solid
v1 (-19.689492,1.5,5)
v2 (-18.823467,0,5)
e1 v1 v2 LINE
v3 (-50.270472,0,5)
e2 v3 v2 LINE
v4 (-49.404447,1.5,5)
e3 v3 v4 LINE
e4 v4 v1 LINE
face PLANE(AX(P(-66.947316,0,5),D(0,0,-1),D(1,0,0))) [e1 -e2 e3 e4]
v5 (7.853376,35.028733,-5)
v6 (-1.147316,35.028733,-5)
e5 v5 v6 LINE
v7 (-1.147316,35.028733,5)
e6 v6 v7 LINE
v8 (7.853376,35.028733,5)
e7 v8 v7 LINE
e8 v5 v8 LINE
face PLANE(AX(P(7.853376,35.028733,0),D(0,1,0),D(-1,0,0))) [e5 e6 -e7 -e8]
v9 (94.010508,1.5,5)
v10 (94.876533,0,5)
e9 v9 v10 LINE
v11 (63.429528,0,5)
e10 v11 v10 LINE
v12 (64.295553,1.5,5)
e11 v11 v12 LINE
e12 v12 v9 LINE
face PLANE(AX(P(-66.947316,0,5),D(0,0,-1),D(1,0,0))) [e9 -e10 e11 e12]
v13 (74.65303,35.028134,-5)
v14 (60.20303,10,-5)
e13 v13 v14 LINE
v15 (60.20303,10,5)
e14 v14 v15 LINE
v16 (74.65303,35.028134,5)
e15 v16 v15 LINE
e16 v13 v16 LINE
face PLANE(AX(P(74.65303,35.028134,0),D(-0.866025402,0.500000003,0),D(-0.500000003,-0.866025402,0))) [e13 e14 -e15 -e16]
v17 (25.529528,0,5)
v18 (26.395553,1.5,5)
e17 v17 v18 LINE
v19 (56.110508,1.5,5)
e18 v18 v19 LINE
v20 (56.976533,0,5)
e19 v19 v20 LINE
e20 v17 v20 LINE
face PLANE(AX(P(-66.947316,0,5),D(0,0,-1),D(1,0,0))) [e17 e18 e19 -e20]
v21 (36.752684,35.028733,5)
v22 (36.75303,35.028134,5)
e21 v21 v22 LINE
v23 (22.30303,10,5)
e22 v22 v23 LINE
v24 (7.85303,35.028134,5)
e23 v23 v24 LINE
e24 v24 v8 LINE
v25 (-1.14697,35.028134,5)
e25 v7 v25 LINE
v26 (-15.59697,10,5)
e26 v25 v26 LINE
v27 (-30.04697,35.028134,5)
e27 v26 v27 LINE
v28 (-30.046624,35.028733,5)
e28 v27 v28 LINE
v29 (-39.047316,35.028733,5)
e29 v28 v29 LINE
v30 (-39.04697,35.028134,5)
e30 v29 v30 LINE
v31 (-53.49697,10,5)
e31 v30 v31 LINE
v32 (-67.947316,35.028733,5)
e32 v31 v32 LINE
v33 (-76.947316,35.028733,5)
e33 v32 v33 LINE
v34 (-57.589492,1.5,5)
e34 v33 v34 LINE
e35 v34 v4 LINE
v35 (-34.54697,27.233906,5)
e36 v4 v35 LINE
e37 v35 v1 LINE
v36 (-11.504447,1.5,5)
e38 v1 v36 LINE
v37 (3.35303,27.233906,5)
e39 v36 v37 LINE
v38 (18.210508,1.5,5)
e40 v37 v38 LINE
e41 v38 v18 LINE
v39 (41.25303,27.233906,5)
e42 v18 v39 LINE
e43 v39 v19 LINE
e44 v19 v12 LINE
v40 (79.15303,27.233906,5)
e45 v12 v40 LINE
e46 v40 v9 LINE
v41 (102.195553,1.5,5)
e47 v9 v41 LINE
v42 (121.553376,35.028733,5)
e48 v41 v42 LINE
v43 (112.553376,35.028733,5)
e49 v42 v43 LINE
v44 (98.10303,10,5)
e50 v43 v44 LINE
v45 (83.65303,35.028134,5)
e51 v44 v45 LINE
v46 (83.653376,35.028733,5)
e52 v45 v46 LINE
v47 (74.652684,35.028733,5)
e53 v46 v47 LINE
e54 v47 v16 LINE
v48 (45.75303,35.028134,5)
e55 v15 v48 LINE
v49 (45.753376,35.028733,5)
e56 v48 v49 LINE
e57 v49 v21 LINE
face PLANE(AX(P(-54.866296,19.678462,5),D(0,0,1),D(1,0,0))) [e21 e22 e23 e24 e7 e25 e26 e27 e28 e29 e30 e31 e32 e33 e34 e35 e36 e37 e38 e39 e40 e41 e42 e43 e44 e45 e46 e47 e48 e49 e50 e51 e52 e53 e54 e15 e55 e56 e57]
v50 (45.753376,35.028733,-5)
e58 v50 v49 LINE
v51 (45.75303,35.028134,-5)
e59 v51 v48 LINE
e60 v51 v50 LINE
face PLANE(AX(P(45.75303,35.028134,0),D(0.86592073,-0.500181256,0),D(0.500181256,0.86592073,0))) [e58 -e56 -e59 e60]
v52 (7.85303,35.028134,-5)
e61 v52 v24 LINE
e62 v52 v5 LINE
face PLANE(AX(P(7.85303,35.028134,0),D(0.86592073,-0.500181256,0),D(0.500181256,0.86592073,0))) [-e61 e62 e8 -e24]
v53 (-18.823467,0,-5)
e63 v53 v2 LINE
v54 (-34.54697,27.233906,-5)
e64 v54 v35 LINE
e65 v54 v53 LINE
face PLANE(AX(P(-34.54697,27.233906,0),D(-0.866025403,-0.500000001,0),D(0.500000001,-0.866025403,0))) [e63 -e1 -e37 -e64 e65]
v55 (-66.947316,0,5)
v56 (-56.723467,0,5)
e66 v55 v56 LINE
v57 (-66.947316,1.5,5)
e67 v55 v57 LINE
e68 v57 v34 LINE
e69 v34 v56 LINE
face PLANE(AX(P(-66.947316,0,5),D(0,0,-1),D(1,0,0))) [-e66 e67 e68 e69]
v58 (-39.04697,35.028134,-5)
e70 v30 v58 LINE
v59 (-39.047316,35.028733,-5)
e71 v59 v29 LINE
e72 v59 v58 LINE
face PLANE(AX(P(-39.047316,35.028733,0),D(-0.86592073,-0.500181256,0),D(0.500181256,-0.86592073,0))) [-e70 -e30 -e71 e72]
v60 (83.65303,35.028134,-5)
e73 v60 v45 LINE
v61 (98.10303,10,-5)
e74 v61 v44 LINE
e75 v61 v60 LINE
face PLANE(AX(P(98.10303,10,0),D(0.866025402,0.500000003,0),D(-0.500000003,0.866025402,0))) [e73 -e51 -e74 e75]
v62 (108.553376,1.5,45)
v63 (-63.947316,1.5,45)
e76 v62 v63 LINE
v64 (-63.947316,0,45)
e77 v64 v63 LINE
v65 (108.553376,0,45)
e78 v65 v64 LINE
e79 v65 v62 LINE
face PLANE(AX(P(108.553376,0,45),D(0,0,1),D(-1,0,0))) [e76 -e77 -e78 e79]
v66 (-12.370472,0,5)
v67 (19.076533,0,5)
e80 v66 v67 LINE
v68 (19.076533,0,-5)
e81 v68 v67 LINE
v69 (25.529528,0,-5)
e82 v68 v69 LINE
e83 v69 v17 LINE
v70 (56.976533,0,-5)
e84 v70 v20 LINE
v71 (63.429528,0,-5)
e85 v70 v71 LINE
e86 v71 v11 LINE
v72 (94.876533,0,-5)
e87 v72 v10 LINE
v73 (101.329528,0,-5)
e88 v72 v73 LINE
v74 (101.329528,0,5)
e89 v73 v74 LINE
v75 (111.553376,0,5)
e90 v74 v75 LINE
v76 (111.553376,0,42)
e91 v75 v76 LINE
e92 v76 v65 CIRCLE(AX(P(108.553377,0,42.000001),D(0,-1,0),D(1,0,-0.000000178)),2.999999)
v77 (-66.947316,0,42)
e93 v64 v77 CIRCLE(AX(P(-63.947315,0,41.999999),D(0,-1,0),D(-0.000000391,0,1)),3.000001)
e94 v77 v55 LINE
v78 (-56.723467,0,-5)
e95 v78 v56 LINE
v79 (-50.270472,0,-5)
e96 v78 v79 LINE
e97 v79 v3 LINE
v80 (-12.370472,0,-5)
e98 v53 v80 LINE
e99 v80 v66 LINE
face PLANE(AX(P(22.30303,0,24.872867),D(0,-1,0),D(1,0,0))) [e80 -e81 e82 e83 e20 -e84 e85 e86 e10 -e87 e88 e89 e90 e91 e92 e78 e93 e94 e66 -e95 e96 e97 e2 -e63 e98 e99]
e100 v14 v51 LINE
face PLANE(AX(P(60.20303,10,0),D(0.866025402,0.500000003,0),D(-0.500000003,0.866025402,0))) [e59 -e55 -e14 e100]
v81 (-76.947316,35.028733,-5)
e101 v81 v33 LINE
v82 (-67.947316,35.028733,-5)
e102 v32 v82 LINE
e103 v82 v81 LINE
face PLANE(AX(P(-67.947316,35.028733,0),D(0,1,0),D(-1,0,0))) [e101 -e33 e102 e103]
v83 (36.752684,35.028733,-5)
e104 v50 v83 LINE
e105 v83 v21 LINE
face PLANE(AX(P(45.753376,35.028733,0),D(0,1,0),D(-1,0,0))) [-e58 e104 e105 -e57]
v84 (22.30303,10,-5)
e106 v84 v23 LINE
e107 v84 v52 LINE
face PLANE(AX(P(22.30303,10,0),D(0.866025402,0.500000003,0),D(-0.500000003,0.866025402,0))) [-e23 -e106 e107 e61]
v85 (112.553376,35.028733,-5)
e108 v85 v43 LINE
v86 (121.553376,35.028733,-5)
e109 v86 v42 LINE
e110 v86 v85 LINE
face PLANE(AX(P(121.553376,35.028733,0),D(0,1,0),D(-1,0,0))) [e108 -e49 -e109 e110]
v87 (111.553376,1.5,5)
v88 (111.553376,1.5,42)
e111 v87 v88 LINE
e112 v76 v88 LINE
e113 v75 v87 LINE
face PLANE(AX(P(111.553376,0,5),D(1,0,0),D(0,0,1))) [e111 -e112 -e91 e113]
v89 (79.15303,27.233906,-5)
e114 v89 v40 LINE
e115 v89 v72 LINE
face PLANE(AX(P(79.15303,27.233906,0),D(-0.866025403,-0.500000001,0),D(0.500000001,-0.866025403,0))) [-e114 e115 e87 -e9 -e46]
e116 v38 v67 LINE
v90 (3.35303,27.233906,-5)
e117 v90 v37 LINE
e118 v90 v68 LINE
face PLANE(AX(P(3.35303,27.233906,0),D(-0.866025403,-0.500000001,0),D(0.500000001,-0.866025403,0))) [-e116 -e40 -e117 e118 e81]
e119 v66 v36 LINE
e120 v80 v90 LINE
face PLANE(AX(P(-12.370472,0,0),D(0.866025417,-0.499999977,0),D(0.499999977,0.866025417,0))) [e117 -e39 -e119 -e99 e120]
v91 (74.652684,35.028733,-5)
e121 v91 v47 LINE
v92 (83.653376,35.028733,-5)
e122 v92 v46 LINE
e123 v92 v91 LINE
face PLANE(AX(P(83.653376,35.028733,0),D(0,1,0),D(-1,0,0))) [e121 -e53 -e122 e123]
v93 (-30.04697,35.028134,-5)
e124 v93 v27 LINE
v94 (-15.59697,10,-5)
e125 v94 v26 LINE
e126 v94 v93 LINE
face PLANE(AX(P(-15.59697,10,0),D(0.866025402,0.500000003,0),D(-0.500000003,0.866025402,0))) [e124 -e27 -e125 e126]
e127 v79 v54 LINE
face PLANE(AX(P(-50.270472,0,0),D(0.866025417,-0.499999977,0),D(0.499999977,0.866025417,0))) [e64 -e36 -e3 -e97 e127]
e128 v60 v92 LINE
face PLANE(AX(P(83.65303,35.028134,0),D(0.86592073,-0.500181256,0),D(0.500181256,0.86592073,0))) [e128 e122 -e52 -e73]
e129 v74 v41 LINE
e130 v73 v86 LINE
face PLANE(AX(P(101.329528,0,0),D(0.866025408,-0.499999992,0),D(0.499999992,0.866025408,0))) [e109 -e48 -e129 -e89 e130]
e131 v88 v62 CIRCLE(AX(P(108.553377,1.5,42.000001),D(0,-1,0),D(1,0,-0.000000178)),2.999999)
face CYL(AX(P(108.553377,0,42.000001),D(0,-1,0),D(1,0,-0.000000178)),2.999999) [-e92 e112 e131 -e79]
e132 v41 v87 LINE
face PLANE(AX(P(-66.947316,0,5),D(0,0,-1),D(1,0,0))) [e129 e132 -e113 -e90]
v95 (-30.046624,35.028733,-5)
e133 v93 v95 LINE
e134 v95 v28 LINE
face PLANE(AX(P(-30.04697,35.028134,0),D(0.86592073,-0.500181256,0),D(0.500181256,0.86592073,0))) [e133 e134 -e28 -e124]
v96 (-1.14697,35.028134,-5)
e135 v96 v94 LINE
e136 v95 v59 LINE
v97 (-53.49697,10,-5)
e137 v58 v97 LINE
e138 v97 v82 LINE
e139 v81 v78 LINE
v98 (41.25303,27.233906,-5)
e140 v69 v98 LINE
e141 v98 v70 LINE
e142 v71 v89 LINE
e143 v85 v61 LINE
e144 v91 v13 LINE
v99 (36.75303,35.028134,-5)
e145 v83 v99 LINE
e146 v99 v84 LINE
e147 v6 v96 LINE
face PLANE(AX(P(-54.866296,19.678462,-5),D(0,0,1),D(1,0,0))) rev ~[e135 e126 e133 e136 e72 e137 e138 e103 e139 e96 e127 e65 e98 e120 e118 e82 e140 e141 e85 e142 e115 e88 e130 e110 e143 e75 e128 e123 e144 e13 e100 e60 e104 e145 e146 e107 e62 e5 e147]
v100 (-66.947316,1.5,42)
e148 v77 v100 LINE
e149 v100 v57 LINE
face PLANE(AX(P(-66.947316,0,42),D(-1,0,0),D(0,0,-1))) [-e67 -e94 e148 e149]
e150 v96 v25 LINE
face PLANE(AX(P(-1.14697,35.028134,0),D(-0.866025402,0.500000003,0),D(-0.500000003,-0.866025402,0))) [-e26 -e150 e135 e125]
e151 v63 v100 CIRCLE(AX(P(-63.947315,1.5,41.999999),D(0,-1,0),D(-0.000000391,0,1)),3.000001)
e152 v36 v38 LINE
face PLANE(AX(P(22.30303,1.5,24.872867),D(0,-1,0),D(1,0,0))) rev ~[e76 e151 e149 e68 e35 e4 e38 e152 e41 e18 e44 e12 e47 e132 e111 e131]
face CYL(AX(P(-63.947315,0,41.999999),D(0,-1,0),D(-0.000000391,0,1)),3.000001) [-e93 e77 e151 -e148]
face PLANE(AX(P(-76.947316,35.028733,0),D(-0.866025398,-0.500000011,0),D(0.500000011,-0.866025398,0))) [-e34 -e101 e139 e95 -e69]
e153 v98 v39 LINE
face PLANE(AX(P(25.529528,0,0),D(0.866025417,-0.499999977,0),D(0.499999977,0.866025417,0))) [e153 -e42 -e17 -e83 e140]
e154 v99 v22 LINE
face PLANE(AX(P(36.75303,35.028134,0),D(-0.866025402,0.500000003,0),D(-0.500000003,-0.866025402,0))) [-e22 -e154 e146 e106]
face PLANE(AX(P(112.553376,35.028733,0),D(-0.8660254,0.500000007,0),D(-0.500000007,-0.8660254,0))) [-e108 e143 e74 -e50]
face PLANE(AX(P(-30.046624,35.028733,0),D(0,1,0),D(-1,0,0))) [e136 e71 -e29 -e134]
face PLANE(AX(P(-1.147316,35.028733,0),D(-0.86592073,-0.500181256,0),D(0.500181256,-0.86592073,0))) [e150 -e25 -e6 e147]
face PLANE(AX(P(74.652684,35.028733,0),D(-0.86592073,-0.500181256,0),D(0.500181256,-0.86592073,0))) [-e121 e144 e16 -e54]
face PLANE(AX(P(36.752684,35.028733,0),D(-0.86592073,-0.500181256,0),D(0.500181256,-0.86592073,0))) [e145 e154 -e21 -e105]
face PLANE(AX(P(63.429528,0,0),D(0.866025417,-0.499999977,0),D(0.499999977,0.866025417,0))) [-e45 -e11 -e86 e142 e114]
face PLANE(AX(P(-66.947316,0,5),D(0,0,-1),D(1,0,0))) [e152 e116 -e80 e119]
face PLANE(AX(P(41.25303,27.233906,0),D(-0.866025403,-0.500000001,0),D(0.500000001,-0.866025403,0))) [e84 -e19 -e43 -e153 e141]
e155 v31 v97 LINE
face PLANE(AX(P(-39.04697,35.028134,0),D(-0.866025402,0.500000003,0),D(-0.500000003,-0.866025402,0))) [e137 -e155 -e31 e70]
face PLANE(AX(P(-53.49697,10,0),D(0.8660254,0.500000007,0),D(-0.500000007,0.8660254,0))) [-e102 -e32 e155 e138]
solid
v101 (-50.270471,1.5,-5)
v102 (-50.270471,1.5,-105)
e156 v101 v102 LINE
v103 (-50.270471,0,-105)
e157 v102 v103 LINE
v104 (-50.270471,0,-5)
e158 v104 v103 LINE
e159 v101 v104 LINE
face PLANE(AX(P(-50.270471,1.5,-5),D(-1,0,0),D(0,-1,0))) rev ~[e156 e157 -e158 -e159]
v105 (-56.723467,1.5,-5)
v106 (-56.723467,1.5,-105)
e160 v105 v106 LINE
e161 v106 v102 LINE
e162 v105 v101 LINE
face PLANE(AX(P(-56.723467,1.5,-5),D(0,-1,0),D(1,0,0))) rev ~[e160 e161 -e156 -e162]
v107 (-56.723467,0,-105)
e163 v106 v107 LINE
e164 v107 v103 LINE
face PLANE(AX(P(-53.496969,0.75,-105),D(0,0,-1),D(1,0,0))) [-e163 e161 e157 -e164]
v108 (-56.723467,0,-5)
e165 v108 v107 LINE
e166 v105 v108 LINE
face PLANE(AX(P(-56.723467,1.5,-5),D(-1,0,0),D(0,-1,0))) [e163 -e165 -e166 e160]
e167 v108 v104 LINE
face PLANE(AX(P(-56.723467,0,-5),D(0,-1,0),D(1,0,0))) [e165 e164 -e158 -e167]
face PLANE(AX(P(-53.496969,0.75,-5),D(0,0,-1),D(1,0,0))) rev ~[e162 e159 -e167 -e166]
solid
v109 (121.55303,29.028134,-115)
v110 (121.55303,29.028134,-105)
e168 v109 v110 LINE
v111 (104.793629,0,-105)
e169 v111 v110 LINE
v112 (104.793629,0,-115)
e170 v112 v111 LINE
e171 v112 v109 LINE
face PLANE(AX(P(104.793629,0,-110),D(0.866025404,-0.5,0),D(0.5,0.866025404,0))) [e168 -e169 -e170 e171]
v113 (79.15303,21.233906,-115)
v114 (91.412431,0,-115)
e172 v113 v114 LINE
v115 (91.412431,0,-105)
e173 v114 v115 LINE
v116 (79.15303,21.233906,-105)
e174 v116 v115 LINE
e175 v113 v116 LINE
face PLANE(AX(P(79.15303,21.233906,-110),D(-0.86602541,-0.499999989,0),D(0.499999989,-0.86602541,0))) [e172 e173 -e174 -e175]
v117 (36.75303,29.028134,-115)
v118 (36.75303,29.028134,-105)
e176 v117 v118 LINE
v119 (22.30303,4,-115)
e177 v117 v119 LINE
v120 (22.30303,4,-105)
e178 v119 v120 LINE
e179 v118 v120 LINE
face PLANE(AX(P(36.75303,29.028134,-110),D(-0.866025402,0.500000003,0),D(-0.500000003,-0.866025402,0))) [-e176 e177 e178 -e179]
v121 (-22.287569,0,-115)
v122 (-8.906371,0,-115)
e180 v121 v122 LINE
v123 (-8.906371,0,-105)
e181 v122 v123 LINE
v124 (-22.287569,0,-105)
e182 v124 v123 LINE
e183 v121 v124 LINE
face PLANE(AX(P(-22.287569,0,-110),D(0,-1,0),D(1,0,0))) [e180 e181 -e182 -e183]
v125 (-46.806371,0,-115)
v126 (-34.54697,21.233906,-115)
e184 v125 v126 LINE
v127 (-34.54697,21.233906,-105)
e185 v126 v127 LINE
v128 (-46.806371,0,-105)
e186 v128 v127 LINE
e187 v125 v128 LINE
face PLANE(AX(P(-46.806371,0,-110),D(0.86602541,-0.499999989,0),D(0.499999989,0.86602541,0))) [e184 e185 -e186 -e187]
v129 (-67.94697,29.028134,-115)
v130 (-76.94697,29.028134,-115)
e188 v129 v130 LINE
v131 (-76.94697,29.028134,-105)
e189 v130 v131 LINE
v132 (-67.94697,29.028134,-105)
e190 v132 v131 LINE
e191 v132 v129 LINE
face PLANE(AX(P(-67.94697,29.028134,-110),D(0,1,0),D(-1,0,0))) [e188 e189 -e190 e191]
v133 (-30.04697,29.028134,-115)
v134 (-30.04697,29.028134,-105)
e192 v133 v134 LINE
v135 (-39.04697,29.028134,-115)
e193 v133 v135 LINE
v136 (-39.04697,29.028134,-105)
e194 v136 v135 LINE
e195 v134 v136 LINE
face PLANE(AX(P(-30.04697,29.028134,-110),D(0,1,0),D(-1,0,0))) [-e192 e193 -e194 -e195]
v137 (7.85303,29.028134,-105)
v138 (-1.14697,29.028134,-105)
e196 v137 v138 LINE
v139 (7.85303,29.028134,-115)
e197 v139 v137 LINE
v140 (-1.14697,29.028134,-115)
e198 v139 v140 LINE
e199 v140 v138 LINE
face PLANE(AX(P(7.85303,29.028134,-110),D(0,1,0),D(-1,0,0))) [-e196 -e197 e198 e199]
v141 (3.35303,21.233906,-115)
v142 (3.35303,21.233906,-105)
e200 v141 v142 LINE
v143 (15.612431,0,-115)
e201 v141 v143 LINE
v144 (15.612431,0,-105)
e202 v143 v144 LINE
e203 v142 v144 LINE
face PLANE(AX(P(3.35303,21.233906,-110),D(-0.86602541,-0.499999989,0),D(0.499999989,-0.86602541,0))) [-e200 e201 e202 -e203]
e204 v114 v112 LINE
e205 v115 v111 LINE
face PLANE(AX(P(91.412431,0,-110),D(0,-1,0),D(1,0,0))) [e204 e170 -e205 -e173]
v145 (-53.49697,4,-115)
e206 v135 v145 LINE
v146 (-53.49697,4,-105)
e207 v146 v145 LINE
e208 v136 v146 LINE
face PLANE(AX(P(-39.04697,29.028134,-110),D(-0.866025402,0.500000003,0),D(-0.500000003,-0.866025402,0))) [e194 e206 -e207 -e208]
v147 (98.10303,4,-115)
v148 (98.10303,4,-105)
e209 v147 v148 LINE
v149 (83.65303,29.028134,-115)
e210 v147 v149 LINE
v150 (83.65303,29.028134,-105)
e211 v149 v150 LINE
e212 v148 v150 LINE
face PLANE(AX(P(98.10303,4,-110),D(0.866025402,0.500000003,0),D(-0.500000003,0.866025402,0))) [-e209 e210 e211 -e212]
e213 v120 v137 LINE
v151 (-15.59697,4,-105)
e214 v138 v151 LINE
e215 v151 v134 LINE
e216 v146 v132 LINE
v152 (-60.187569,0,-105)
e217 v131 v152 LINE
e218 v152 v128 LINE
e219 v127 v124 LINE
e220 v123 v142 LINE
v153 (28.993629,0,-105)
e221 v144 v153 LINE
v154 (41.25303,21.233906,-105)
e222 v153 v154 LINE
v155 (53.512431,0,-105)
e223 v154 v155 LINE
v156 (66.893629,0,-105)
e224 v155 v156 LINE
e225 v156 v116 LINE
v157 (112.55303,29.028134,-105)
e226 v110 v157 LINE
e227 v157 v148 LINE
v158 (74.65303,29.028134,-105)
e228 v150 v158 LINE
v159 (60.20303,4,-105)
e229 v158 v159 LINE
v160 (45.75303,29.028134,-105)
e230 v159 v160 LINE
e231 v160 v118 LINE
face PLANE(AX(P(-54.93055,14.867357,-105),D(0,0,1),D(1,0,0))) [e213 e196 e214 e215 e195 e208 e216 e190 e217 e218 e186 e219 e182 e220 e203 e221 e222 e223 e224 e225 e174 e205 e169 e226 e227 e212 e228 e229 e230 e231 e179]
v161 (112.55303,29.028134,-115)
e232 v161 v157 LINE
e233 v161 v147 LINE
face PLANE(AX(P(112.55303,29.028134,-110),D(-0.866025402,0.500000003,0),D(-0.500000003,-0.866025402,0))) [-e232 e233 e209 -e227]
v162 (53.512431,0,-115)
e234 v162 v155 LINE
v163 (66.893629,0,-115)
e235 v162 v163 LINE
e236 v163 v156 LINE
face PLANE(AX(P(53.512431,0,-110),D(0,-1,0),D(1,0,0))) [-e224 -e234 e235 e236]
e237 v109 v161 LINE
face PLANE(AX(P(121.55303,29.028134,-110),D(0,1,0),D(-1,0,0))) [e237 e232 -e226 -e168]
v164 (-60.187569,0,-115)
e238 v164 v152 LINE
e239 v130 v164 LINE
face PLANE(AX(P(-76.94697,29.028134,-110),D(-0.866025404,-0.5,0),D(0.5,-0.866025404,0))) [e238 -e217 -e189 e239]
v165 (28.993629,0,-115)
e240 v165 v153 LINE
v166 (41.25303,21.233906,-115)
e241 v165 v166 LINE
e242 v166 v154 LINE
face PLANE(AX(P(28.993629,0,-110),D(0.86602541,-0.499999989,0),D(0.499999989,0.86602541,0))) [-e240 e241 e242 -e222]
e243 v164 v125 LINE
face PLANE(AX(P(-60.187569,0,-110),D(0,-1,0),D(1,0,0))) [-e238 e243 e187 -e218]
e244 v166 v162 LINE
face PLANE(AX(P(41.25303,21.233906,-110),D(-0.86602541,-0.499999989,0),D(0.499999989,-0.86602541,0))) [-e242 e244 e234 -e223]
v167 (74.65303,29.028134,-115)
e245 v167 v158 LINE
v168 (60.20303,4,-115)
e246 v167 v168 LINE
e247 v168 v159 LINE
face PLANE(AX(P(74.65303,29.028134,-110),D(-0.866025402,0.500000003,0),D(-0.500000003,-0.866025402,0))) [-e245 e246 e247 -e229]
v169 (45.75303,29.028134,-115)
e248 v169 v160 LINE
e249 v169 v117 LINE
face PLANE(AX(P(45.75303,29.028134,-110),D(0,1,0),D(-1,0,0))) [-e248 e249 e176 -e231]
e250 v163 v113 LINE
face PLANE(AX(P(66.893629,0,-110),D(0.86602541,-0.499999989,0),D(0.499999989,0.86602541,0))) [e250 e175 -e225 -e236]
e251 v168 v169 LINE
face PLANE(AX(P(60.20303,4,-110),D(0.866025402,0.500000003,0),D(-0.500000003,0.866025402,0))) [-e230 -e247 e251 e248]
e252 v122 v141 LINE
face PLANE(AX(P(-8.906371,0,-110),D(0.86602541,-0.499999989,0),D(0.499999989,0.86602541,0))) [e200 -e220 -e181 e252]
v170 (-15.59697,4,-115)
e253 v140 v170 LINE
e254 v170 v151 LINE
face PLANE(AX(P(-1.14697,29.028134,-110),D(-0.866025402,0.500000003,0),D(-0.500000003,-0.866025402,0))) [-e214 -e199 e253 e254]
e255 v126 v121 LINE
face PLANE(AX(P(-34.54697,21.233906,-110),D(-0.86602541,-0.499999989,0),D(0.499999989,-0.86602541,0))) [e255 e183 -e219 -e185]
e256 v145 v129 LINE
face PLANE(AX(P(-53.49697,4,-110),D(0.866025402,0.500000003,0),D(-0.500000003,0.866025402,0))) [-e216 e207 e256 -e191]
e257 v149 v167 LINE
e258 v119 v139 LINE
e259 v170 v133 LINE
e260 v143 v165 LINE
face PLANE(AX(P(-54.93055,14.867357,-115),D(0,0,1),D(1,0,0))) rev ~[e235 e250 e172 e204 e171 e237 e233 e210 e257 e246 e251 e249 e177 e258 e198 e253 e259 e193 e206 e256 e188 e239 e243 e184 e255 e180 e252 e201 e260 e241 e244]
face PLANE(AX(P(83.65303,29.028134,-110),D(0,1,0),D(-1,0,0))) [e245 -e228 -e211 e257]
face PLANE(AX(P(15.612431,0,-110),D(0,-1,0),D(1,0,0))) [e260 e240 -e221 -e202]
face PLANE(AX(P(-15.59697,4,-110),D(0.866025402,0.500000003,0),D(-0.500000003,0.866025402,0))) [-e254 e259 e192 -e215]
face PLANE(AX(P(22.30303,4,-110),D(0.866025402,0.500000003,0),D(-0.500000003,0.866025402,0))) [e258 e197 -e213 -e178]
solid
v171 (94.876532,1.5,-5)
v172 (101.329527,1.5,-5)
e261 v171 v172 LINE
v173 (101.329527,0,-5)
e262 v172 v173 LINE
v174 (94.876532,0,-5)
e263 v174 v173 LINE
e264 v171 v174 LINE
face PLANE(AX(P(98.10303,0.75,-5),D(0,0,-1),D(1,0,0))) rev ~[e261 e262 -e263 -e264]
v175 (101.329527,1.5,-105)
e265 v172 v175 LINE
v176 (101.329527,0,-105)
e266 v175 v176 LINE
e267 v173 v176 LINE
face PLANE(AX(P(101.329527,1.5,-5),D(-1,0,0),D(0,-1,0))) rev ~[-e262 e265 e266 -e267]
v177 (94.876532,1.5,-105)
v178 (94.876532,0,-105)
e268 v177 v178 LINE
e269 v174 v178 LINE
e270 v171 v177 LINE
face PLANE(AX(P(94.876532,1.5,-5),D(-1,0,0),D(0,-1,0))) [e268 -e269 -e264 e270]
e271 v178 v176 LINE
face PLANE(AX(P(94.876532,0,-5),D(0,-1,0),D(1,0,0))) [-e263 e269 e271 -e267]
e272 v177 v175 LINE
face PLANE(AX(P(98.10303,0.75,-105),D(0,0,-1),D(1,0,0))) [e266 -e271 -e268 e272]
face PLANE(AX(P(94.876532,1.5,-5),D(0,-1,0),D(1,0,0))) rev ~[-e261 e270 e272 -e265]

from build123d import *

# Parameters (mm, degrees)
F1_DEPTH = 5
F4_DEPTH = 5
F6_DEPTH = 1.5
F7_W     = 6.452995
F7_H     = 1.5
F8_DEPTH = 100


with BuildPart() as f1:
    # F0 (on Top) → F1 (new body, symmetric)
    with BuildSketch(Plane.XY):
        Polygon((-67.947316, 35.028733), (-76.947316, 35.028733), (-56.723467, 0), (-50.270472, 0), (-34.54697, 27.233906), (-39.04697, 35.028134), (-53.49697, 10), align=None)
        Polygon((-39.04697, 35.028134), (-34.54697, 27.233906), (-30.04697, 35.028134), (-30.047316, 35.028733), (-39.046624, 35.028733), align=None)
        Polygon((-30.04697, 35.028134), (-34.54697, 27.233906), (-18.823467, 0), (-12.370472, 0), (3.35303, 27.233906), (-1.14697, 35.028134), (-15.59697, 10), align=None)
        Polygon((-39.047316, 35.028733), (-39.04697, 35.028134), (-39.046624, 35.028733), align=None)
        Polygon((-30.047316, 35.028733), (-30.04697, 35.028134), (-30.046624, 35.028733), align=None)
        Polygon((-1.147316, 35.028733), (-1.14697, 35.028134), (-1.146624, 35.028733), align=None)
        Polygon((-1.146624, 35.028733), (-1.14697, 35.028134), (3.35303, 27.233906), (7.85303, 35.028134), (7.852684, 35.028733), align=None)
        Polygon((7.85303, 35.028134), (3.35303, 27.233906), (19.076533, 0), (25.529528, 0), (41.25303, 27.233906), (36.75303, 35.028134), (22.30303, 10), align=None)
        Polygon((7.852684, 35.028733), (7.85303, 35.028134), (7.853376, 35.028733), align=None)
        Polygon((36.752684, 35.028733), (36.75303, 35.028134), (36.753376, 35.028733), align=None)
        Polygon((36.753376, 35.028733), (36.75303, 35.028134), (41.25303, 27.233906), (45.75303, 35.028134), (45.752684, 35.028733), align=None)
        Polygon((45.75303, 35.028134), (41.25303, 27.233906), (56.976533, 0), (63.429528, 0), (79.15303, 27.233906), (74.65303, 35.028134), (60.20303, 10), align=None)
        Polygon((45.752684, 35.028733), (45.75303, 35.028134), (45.753376, 35.028733), align=None)
        Polygon((74.652684, 35.028733), (74.65303, 35.028134), (74.653376, 35.028733), align=None)
        Polygon((74.653376, 35.028733), (74.65303, 35.028134), (79.15303, 27.233906), (83.65303, 35.028134), (83.652684, 35.028733), align=None)
        Polygon((83.65303, 35.028134), (79.15303, 27.233906), (94.876533, 0), (101.329528, 0), (121.553376, 35.028733), (112.553376, 35.028733), (98.10303, 10), align=None)
        Polygon((83.652684, 35.028733), (83.65303, 35.028134), (83.653376, 35.028733), align=None)
    extrude(amount=F1_DEPTH, both=True)

    # F5 (on Front) → F6 (join)
    with BuildSketch(Plane.XZ):
        with BuildLine():
            Line((108.553376, 45), (-63.947316, 45))
            ThreePointArc((-63.947316, 45), (-66.068636, 44.12132), (-66.947316, 42))
            Line((-66.947316, 42), (-66.947316, 5))
            Line((-66.947316, 5), (111.553376, 5))
            Line((111.553376, 5), (111.553376, 42))
            ThreePointArc((111.553376, 42), (110.674697, 44.12132), (108.553376, 45))
        make_face()
    extrude(amount=-F6_DEPTH)


with BuildPart() as f4:
    # F3 (on offset) → F4 (new body, symmetric)
    with BuildSketch(Plane.XY.offset(-110)):
        Polygon((-67.94697, 29.028134), (-76.94697, 29.028134), (-60.187569, 0), (-46.806371, 0), (-34.54697, 21.233906), (-39.04697, 29.028134), (-53.49697, 4), align=None)
        Polygon((-39.04697, 29.028134), (-34.54697, 21.233906), (-30.04697, 29.028134), align=None)
        Polygon((-30.04697, 29.028134), (-34.54697, 21.233906), (-22.287569, 0), (-8.906371, 0), (3.35303, 21.233906), (-1.14697, 29.028134), (-15.59697, 4), align=None)
        Polygon((7.85303, 29.028134), (-1.14697, 29.028134), (3.35303, 21.233906), align=None)
        Polygon((7.85303, 29.028134), (3.35303, 21.233906), (15.612431, 0), (28.993629, 0), (41.25303, 21.233906), (36.75303, 29.028134), (22.30303, 4), align=None)
        Polygon((45.75303, 29.028134), (36.75303, 29.028134), (41.25303, 21.233906), align=None)
        Polygon((45.75303, 29.028134), (41.25303, 21.233906), (53.512431, 0), (66.893629, 0), (79.15303, 21.233906), (74.65303, 29.028134), (60.20303, 4), align=None)
        Polygon((83.65303, 29.028134), (74.65303, 29.028134), (79.15303, 21.233906), align=None)
        Polygon((83.65303, 29.028134), (79.15303, 21.233906), (91.412431, 0), (104.793629, 0), (121.55303, 29.028134), (112.55303, 29.028134), (98.10303, 4), align=None)
    extrude(amount=F4_DEPTH, both=True)


with BuildPart() as f8:
    # F7 (on face) → F8 (new body, through all)
    with BuildSketch(Plane(origin=(0, 0, -5), x_dir=(1, 0, 0), z_dir=(0, 0, -1))):
        with Locations((98.10303, -0.75)):
            Rectangle(F7_W, F7_H)
        with Locations((-53.496969, -0.75)):
            Rectangle(F7_W, F7_H)
    extrude(amount=F8_DEPTH)


solid = Compound([f1.part, f4.part, f8.part])
